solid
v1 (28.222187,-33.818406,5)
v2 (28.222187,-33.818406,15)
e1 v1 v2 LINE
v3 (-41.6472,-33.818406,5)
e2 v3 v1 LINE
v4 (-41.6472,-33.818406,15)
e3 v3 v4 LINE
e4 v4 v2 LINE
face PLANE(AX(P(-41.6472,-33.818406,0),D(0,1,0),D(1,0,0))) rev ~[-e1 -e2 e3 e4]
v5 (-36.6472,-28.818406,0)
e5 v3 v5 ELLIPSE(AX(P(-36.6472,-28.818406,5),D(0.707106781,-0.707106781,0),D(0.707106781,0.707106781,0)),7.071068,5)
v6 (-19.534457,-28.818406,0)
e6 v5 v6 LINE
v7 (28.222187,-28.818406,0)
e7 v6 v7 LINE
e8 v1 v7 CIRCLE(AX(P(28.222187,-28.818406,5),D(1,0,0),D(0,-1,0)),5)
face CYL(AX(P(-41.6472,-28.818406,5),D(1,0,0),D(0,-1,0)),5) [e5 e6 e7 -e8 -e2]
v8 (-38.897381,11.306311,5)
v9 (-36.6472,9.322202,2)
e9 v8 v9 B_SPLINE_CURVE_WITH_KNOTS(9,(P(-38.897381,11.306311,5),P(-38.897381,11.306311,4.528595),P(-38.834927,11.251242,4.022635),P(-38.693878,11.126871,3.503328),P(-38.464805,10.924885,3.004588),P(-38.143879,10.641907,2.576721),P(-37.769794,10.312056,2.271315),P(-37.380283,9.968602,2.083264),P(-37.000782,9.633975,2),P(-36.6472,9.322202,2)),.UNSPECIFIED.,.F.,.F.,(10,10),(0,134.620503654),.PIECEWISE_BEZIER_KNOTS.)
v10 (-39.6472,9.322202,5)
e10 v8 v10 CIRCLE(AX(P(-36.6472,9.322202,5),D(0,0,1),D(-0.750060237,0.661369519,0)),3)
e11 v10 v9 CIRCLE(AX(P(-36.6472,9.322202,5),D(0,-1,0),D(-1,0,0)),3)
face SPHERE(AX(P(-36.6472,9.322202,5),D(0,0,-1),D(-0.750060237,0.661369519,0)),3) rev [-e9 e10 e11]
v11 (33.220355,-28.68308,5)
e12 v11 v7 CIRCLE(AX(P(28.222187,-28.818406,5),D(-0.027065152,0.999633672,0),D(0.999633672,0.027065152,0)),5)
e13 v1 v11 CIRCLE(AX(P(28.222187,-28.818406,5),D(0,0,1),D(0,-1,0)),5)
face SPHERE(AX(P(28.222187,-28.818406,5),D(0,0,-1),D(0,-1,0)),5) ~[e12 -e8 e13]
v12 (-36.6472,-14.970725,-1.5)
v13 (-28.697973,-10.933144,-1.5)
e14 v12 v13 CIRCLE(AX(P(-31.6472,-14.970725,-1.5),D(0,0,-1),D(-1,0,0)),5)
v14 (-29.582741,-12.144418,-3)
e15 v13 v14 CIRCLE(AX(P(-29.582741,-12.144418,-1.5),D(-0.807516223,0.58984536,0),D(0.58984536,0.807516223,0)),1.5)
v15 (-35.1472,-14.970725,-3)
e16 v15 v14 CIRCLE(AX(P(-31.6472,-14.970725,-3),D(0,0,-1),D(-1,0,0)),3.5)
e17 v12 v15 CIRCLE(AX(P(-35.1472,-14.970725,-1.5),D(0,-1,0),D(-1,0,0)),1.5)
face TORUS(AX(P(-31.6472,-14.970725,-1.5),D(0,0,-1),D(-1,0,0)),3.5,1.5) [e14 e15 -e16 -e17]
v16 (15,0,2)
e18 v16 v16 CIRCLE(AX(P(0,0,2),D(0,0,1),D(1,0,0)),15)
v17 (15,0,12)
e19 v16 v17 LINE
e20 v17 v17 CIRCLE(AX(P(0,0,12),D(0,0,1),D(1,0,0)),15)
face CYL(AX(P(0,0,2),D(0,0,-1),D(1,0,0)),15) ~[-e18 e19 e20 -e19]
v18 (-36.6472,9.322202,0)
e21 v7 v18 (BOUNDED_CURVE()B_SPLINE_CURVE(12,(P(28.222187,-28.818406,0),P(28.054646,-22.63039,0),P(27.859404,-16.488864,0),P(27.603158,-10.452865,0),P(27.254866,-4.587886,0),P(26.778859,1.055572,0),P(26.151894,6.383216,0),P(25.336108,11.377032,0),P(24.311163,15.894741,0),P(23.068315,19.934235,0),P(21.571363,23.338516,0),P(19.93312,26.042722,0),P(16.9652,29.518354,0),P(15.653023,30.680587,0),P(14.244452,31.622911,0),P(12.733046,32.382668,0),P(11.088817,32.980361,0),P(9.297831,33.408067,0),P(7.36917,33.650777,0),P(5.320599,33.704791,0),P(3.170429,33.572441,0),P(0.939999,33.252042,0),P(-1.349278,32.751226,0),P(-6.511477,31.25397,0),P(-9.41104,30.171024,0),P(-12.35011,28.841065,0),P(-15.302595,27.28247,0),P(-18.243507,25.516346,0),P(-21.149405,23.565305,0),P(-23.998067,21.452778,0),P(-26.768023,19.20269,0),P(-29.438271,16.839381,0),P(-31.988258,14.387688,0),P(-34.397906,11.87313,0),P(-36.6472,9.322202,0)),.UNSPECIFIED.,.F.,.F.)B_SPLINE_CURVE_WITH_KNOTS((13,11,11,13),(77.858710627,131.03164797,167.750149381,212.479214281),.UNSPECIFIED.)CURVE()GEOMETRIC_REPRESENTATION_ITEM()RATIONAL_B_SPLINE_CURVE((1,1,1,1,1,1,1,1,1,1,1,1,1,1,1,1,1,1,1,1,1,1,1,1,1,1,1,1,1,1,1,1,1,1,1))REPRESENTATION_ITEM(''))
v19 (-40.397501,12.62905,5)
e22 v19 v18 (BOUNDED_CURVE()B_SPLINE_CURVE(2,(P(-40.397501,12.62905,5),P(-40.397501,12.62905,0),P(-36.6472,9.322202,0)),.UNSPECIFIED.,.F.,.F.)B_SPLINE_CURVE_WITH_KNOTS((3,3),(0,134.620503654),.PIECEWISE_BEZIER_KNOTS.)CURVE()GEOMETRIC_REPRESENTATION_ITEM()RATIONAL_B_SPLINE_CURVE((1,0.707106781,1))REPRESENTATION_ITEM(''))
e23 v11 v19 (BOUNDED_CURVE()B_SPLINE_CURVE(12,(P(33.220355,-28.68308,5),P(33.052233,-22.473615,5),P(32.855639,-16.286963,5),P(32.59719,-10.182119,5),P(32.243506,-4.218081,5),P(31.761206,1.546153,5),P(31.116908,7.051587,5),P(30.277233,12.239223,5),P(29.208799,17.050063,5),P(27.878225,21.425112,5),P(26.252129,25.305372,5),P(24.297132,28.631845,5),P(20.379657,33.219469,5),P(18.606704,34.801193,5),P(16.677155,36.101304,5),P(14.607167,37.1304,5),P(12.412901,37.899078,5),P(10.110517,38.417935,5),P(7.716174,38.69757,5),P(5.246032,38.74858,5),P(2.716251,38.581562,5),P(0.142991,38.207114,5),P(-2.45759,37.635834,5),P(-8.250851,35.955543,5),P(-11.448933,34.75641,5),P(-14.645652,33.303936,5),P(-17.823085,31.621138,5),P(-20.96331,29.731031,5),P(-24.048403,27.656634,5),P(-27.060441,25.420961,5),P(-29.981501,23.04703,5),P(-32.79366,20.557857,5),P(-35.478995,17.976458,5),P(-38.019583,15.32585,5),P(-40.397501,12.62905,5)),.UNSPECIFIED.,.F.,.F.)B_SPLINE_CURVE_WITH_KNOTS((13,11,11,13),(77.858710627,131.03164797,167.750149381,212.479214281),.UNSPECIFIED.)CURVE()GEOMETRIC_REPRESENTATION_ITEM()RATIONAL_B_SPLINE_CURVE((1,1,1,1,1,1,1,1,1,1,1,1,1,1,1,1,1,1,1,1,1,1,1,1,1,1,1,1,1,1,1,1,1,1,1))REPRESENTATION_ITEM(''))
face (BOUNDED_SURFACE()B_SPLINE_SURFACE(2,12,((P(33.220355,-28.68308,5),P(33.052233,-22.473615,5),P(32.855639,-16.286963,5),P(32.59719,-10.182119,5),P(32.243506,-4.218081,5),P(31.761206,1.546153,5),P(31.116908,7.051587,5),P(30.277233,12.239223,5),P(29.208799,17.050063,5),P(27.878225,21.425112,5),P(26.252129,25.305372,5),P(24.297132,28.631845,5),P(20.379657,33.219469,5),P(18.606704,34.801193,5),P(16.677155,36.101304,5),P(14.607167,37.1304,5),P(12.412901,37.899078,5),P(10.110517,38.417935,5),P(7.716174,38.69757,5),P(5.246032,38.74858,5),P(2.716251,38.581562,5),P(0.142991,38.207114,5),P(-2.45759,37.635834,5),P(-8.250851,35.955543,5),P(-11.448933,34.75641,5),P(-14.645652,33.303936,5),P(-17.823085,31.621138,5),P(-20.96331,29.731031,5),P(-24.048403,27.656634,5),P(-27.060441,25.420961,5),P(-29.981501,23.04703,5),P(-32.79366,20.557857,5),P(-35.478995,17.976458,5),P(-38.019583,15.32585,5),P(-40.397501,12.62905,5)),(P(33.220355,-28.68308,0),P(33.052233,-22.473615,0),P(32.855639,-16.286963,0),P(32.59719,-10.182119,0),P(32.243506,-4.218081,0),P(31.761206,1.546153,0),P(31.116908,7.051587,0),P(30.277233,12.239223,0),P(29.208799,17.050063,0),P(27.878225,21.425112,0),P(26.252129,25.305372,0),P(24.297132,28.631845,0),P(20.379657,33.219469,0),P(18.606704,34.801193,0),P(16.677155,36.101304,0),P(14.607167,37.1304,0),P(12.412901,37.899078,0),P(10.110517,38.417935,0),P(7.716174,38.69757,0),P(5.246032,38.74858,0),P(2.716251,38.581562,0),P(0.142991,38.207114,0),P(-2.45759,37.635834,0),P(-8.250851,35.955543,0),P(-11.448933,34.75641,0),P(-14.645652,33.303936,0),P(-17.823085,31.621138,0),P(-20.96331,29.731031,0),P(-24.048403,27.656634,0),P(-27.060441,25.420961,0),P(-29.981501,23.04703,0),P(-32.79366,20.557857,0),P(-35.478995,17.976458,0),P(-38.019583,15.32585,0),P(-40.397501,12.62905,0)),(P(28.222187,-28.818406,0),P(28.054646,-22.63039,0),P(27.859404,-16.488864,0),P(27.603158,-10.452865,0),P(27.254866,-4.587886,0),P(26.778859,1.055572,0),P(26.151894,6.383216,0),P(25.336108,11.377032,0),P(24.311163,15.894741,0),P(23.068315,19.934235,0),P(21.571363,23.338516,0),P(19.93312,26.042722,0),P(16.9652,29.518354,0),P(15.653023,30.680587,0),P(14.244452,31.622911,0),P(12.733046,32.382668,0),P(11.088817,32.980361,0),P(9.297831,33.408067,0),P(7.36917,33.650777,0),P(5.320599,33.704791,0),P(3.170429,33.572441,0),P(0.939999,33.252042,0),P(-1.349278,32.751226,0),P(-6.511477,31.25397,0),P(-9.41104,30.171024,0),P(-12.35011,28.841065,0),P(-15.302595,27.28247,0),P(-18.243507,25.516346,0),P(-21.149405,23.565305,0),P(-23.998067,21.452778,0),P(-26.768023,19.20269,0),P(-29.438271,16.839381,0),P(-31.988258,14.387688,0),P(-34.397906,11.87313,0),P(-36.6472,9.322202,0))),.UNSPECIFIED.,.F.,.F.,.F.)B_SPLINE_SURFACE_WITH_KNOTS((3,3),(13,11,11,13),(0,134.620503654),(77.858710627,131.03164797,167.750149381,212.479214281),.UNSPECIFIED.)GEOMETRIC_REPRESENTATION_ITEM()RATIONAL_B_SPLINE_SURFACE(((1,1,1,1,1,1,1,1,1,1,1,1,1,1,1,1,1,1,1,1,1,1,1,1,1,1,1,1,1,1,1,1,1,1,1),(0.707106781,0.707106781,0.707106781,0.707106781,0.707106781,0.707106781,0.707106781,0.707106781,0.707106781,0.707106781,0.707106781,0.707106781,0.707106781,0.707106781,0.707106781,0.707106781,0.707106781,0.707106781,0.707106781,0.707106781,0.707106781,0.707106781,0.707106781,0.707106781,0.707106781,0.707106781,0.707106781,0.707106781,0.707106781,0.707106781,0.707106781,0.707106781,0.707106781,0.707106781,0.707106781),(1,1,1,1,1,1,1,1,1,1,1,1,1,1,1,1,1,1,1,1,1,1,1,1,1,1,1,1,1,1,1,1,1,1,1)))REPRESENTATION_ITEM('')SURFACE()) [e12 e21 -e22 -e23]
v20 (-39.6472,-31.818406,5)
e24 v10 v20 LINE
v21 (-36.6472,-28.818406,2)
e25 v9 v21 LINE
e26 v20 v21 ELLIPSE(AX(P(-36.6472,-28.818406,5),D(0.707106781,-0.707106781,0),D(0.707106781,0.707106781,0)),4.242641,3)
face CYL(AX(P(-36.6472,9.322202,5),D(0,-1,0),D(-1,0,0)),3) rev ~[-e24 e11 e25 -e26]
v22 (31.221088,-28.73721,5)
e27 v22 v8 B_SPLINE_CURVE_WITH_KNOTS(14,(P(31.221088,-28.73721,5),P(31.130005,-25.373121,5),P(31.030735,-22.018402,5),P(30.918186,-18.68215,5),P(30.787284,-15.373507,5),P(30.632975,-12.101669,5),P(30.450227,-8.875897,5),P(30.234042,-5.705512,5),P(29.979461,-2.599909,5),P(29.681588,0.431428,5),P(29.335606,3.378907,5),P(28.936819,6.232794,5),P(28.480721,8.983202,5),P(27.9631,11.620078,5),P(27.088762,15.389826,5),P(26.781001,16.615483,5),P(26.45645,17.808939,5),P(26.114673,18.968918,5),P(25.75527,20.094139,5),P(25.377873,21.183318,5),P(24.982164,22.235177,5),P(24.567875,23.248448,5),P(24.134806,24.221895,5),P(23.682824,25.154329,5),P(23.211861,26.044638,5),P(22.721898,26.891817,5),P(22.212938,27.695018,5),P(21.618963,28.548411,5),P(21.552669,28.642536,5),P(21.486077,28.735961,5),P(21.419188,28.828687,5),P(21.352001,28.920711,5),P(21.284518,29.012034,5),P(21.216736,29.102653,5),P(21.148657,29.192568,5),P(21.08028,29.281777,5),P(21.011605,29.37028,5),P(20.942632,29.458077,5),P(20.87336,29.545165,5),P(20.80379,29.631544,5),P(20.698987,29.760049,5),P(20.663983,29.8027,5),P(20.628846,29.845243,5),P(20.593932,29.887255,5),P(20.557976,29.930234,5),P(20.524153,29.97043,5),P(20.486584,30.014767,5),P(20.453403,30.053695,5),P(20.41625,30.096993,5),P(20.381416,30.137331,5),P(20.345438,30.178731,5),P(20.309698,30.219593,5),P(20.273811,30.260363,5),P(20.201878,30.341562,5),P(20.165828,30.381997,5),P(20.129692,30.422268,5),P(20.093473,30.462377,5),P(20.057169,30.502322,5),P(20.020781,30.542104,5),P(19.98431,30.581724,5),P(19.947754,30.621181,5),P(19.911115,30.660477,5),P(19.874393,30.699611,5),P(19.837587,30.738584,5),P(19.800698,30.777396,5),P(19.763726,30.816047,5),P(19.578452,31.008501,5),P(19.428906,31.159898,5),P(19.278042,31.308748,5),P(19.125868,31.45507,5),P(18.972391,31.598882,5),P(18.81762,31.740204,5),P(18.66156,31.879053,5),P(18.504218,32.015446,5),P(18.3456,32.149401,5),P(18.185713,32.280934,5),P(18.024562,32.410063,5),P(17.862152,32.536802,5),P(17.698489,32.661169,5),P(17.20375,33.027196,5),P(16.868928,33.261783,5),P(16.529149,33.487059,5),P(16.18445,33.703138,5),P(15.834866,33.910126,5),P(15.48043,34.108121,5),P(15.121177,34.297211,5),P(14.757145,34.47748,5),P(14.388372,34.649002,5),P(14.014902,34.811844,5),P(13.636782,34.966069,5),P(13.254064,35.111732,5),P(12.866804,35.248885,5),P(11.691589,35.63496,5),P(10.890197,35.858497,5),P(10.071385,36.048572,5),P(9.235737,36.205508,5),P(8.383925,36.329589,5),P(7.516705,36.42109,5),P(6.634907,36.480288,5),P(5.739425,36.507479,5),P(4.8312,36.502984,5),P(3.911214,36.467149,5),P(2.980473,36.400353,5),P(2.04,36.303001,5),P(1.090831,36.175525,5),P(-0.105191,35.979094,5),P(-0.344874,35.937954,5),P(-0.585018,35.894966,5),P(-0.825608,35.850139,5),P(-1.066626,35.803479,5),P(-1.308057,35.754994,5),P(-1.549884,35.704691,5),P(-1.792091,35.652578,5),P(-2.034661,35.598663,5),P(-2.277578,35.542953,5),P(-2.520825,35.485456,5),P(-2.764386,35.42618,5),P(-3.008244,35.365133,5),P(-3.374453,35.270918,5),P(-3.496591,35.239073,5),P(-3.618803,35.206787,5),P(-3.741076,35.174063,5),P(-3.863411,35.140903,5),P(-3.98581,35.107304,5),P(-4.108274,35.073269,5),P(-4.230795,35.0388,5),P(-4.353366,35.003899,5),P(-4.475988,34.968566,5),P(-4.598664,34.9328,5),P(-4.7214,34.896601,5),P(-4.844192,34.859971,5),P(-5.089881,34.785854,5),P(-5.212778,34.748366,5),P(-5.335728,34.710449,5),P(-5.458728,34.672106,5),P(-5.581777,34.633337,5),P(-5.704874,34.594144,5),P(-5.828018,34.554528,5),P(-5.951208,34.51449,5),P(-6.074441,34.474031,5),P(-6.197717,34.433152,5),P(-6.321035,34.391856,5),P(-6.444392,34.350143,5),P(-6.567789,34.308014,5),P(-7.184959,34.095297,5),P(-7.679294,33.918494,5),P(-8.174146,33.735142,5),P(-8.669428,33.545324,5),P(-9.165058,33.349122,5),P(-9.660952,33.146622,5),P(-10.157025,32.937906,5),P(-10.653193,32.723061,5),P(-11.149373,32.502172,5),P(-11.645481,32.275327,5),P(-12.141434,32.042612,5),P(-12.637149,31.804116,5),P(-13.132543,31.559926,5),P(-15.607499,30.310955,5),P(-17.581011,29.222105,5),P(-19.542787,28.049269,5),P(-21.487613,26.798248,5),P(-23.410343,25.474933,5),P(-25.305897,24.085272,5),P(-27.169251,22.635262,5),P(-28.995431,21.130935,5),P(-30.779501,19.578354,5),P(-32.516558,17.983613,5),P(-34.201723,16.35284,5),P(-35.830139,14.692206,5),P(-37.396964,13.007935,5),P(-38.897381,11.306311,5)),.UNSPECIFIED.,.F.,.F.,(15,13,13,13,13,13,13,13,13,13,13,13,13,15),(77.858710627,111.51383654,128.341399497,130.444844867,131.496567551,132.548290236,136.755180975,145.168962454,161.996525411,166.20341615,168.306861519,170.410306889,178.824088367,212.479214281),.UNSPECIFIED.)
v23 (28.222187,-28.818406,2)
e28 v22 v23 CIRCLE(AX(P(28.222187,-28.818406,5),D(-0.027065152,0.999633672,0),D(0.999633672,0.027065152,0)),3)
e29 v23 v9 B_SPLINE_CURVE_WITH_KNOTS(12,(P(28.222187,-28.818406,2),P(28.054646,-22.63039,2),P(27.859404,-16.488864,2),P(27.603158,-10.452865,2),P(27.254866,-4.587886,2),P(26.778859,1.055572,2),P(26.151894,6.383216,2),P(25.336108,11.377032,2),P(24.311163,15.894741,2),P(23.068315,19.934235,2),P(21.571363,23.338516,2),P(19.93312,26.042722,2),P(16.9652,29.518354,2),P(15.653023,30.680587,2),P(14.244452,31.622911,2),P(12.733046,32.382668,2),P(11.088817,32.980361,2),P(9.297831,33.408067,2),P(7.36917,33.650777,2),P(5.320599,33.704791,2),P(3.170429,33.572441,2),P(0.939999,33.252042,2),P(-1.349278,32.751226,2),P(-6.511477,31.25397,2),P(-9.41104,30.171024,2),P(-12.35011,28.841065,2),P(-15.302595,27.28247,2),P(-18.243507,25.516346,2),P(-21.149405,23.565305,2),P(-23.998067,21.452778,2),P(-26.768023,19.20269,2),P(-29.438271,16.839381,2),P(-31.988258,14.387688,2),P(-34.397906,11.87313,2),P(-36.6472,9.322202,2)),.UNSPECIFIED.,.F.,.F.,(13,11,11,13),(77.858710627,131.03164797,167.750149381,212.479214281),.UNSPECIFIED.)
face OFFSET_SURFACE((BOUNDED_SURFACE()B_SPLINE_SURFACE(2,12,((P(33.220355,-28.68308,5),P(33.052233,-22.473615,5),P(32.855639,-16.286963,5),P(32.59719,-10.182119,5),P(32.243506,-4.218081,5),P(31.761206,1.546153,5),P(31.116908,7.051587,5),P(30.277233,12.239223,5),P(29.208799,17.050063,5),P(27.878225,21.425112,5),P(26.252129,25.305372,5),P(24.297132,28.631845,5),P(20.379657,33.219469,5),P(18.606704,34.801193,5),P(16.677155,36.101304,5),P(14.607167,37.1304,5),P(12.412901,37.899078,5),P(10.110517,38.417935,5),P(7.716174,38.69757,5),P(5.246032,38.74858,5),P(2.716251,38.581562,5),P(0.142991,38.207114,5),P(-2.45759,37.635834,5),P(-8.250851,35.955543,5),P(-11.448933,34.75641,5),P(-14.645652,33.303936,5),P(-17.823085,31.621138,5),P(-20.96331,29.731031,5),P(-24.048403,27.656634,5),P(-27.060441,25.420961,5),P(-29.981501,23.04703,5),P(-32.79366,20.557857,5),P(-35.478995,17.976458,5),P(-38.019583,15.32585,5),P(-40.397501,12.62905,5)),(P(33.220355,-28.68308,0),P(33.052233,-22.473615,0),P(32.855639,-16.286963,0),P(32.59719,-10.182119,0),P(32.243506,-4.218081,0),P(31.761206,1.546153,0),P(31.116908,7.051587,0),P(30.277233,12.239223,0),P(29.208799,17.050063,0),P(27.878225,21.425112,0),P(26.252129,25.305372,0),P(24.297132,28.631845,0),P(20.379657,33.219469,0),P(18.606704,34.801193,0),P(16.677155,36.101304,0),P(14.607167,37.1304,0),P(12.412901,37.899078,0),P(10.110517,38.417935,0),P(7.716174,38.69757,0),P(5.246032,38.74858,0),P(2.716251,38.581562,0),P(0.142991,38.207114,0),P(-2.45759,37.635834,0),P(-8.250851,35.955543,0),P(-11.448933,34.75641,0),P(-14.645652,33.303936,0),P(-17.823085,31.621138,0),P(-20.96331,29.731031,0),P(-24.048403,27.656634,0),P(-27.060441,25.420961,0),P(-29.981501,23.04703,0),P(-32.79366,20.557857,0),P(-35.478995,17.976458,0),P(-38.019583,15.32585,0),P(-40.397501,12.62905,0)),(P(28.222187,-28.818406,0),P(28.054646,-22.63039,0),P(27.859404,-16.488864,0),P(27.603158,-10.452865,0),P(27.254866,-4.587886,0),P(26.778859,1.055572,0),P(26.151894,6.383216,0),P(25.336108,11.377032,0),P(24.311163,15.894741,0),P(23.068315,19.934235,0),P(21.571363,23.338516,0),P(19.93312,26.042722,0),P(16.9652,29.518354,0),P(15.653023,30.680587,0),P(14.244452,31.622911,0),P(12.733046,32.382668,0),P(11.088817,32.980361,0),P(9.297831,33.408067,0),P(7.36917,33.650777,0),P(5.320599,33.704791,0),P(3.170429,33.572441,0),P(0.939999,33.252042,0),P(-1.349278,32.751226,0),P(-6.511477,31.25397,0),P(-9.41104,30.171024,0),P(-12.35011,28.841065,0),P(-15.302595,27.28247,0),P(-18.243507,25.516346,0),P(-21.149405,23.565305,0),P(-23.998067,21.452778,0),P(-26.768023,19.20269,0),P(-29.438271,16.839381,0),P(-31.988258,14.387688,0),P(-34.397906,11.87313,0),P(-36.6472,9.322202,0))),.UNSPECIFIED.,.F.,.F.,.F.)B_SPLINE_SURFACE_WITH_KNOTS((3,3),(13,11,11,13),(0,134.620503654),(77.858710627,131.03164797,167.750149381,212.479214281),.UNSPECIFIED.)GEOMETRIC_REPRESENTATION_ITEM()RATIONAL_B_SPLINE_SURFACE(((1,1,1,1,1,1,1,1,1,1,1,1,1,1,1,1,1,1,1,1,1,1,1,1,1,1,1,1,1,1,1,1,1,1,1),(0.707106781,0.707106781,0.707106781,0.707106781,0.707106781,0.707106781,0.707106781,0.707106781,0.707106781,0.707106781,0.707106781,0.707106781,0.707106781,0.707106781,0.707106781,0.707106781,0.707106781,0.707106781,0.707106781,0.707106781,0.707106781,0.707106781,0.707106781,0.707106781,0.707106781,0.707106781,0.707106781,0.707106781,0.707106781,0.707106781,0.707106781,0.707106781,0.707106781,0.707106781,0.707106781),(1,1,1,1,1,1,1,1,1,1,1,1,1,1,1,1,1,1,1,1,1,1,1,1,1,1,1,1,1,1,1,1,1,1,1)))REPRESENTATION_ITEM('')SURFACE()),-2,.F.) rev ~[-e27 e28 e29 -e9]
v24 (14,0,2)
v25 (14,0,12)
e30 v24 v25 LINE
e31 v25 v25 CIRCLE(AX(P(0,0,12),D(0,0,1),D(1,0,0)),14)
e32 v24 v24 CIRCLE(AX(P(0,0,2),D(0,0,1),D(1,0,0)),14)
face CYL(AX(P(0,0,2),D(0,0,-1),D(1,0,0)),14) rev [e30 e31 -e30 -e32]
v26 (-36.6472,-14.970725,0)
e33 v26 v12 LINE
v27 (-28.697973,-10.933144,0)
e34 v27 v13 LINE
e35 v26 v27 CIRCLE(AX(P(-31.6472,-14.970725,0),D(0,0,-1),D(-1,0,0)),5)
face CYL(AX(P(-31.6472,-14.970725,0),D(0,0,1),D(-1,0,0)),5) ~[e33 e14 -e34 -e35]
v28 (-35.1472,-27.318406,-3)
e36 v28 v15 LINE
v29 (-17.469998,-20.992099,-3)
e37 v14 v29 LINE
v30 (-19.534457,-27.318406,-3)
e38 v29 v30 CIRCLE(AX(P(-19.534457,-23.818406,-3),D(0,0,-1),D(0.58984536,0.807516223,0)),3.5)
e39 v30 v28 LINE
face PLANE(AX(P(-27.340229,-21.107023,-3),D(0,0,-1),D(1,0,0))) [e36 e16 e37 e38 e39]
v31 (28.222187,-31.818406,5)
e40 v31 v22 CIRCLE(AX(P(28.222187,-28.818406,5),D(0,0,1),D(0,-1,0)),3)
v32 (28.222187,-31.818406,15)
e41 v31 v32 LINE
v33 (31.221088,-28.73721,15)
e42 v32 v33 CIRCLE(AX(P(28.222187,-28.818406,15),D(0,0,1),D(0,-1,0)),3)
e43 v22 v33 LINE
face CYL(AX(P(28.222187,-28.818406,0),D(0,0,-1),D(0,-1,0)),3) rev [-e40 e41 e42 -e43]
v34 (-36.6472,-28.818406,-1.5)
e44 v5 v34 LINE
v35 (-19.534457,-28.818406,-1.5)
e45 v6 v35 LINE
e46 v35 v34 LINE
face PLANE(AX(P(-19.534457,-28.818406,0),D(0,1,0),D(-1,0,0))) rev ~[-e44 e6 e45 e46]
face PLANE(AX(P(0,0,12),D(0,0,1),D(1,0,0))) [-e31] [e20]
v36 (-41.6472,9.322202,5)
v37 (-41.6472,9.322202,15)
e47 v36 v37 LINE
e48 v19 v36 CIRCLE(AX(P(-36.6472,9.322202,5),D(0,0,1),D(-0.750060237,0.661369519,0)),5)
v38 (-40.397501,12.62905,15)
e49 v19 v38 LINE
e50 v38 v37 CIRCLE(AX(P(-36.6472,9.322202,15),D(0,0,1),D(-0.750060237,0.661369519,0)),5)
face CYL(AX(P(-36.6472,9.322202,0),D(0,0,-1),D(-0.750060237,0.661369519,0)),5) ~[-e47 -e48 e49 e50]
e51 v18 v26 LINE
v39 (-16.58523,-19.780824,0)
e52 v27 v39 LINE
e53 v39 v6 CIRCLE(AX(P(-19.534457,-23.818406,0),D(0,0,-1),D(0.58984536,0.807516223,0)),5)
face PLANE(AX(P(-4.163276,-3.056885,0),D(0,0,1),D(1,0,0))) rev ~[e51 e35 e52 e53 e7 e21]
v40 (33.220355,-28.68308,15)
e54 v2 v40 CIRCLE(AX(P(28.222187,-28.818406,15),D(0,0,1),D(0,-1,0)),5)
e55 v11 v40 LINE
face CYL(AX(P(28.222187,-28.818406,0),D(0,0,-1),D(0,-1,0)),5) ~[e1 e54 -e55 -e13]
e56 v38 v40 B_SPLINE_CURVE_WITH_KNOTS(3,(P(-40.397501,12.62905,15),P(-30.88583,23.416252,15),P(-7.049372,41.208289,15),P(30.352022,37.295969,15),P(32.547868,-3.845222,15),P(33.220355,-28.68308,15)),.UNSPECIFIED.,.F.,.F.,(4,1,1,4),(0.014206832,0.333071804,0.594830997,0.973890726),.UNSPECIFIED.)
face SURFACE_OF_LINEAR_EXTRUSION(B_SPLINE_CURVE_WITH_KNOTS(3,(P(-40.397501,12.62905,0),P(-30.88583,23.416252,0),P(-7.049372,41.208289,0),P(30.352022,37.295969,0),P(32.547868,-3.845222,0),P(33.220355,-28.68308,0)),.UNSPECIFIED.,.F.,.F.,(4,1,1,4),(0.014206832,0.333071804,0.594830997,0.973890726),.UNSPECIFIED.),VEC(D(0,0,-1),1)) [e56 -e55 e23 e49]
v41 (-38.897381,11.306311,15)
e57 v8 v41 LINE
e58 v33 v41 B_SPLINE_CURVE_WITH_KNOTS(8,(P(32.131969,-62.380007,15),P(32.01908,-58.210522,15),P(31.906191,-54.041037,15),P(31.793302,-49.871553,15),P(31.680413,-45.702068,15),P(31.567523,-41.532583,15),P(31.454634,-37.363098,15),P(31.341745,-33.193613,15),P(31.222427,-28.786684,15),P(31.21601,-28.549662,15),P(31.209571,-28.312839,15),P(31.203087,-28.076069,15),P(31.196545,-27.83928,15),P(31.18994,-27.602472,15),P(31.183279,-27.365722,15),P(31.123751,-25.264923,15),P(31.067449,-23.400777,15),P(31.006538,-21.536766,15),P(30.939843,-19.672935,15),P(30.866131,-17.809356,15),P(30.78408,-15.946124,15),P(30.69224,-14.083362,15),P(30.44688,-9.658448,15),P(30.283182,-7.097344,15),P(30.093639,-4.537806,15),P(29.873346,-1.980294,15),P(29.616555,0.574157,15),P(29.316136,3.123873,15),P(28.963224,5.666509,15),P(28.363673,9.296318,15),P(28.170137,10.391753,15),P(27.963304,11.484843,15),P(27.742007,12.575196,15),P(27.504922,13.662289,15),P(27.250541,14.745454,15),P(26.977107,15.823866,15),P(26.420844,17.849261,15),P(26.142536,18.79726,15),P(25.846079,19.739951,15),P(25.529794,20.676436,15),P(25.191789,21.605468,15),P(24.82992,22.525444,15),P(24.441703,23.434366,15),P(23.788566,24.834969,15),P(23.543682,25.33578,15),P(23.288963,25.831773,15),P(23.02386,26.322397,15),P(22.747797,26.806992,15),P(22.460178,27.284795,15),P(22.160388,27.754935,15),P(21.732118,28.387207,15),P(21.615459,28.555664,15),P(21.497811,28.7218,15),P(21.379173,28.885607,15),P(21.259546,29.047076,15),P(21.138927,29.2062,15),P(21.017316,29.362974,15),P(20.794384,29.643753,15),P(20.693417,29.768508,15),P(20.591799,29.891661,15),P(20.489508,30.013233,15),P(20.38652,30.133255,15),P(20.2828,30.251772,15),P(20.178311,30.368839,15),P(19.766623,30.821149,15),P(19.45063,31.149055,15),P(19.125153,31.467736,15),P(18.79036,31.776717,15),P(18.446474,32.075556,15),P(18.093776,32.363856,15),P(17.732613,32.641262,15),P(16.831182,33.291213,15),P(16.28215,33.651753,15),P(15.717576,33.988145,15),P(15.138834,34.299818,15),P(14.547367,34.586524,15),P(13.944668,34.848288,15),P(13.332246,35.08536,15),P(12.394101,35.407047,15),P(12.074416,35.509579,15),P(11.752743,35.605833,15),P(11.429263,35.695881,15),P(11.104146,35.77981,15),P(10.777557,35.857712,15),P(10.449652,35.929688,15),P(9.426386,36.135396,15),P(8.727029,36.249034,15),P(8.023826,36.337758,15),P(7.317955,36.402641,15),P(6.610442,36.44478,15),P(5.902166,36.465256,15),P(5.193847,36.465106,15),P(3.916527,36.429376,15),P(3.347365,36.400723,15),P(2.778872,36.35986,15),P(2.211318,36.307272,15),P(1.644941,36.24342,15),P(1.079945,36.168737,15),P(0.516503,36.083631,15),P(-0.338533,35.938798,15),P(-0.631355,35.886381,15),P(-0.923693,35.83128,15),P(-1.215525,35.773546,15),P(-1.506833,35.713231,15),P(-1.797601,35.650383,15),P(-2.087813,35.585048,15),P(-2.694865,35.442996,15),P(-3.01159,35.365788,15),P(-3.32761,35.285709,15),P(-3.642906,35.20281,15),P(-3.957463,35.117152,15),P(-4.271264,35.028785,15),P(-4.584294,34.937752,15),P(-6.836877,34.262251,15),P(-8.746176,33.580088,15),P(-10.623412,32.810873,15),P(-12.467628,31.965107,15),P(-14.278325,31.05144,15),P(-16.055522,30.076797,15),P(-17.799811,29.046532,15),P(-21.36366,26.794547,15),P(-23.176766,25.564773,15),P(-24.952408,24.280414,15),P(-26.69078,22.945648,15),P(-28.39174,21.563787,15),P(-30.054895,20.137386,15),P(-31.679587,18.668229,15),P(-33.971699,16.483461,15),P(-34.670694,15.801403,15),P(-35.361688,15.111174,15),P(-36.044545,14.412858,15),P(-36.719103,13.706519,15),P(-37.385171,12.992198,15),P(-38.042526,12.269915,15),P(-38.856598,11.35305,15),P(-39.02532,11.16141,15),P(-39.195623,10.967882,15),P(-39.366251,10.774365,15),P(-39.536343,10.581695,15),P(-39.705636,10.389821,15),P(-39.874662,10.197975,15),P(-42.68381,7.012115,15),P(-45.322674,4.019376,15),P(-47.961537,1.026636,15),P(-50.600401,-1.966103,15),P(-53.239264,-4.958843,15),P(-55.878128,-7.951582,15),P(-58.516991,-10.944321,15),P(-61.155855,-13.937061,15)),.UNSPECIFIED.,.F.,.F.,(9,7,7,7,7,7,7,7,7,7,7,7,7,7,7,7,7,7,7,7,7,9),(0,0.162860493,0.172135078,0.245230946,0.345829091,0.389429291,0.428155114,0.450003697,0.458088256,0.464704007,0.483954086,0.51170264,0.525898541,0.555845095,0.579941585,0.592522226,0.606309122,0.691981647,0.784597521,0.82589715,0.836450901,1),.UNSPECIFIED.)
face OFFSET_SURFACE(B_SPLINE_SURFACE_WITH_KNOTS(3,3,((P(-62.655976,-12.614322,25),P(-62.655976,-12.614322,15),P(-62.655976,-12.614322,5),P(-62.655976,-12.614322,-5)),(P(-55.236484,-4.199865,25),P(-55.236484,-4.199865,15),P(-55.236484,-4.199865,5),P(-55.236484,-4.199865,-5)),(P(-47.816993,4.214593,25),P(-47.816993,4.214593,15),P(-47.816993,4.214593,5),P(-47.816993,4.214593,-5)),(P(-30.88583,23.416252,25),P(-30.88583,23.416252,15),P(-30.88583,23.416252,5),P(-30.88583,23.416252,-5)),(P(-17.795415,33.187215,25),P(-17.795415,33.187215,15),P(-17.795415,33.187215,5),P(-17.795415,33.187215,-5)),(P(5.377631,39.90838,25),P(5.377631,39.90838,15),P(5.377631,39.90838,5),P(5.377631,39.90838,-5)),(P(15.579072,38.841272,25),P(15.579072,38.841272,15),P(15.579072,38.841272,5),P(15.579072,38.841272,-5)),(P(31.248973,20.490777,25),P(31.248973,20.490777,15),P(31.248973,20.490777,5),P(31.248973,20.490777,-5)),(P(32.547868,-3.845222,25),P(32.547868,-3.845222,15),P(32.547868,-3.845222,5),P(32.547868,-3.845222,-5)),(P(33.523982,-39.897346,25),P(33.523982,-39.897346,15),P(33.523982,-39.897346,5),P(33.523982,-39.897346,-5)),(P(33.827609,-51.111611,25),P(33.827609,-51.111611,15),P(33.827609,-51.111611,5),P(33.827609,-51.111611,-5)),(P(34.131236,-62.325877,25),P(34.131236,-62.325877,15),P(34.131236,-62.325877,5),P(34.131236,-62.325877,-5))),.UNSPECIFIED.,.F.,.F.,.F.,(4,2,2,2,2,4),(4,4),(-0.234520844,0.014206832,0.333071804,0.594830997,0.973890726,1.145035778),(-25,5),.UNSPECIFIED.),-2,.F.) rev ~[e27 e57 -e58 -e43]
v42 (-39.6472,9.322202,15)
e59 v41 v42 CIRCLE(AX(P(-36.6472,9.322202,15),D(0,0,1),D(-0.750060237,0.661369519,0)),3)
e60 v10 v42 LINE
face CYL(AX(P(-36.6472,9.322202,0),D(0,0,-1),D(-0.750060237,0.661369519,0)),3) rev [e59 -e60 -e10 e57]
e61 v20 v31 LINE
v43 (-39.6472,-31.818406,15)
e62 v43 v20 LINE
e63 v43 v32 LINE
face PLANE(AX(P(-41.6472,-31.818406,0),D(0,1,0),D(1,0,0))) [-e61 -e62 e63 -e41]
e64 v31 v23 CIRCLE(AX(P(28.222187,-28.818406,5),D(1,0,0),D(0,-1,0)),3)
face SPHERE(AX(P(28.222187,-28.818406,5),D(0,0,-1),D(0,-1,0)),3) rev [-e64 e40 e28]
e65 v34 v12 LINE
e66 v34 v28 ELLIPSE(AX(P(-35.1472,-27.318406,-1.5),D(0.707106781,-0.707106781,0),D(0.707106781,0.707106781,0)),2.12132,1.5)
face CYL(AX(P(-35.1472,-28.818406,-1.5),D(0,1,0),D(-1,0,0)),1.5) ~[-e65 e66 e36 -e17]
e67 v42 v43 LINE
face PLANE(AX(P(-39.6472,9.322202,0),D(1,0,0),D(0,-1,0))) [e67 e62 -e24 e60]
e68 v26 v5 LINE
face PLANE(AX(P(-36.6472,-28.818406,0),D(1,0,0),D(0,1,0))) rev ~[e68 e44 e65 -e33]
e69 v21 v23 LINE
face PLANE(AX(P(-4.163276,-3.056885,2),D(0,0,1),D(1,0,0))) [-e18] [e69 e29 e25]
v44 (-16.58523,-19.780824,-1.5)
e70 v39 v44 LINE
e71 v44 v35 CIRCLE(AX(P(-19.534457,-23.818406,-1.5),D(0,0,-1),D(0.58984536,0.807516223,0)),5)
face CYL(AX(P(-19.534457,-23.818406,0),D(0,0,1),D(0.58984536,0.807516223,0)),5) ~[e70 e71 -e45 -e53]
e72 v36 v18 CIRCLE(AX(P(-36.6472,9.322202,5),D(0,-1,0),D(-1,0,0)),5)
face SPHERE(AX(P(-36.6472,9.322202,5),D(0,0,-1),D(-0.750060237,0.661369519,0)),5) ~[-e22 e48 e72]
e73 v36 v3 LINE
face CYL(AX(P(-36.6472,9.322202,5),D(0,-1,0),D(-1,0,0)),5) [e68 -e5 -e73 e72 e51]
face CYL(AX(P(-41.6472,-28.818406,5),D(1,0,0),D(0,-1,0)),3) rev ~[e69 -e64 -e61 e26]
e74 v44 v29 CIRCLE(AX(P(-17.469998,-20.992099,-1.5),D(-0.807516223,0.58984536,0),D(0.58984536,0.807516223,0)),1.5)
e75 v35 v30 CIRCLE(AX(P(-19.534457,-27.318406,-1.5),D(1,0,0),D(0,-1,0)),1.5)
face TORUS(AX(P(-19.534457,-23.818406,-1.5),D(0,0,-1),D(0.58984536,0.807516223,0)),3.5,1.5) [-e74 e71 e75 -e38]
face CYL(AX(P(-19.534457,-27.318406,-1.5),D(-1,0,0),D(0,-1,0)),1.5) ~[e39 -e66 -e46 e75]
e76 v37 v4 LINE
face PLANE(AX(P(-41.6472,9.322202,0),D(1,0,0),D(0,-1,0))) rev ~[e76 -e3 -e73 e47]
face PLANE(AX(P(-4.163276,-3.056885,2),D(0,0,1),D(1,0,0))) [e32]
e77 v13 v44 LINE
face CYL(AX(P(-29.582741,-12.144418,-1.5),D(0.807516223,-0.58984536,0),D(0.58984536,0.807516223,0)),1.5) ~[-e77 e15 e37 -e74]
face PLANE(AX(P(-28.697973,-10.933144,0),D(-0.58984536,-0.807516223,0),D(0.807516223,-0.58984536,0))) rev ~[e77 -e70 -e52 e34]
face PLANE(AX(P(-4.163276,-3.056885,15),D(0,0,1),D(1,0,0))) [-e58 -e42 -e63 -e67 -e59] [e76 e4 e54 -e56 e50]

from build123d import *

# Parameters (mm, degrees)
F1_DEPTH = 15
F2_R     = 5
F3_T     = -2
F4_R     = 15
F4_R_2   = 14
F5_DEPTH = 10
F7_DEPTH = 3
F8_R     = 1.5


with BuildPart() as f1:
    # F0 (on Top) → F1 (new body)
    with BuildSketch(Plane.XY):
        with BuildLine():
            Line((-41.6471999139, -33.8184056139), (28.2221867927, -33.8184056139))
            ThreePointArc((28.2221867927, -33.8184056139), (31.8052461555, -32.3057664503), (33.2203551511, -28.683079855))
            add(Edge.make_bspline(
                [(-40.3975011, 12.6290499162), (-30.8858296108, 23.4162518808), (-7.0493723569, 41.208289187), (30.3520223055, 37.2959686123), (32.5478684018, -3.8452218026), (33.2203551511, -28.683079855)],
                knots=[0.0142068322, 0.0142068322, 0.0142068322, 0.0142068322, 0.3330718044, 0.5948309974, 0.9738907257, 0.9738907257, 0.9738907257, 0.9738907257], degree=3))
            ThreePointArc((-40.3975011, 12.6290499162), (-41.324352142, 11.089756291), (-41.6471999139, 9.3222023217))
            Line((-41.6471999139, 9.3222023217), (-41.6471999139, -33.8184056139))
        make_face()
    extrude(amount=F1_DEPTH)

    # F2
    f2_edges = [f1.edges().sort_by_distance(p)[0] for p in [
        (-41.6472, -12.248102, 0),
    ]]
    fillet(f2_edges, radius=F2_R)

    # F3
    f3_openings = [f1.faces().sort_by_distance(p)[0] for p in [
        (-3.826347, -1.622162, 15),
    ]]
    offset(amount=F3_T, openings=f3_openings)

    # F4 (on face) → F5 (join)
    with BuildSketch(Plane.XY.offset(2)):
        Circle(F4_R)
        Circle(F4_R_2, mode=Mode.SUBTRACT)
    extrude(amount=F5_DEPTH)

    # F6 (on face) → F7 (join)
    with BuildSketch(Plane(origin=(0, 0, 0), x_dir=(1, 0, 0), z_dir=(0, 0, -1))):
        with BuildLine():
            Line((-19.5344565624, 28.8184056139), (-36.6471999139, 28.8184056139))
            Line((-36.6471999139, 28.8184056139), (-36.6471999139, 14.9707252116))
            ThreePointArc((-36.6471999139, 14.9707252116), (-33.911473086, 10.5128033861), (-28.6979731131, 10.9331440944))
            Line((-28.6979731131, 10.9331440944), (-16.5852297616, 19.7808244968))
            ThreePointArc((-16.5852297616, 19.7808244968), (-14.7811468952, 25.3695494523), (-19.5344565624, 28.8184056139))
        make_face()
    extrude(amount=F7_DEPTH)

    # F8
    f8_edges = [f1.edges().sort_by_distance(p)[0] for p in [
        (-28.090828, -28.818406, -3),
    ]]
    fillet(f8_edges, radius=F8_R)


solid = f1.part
